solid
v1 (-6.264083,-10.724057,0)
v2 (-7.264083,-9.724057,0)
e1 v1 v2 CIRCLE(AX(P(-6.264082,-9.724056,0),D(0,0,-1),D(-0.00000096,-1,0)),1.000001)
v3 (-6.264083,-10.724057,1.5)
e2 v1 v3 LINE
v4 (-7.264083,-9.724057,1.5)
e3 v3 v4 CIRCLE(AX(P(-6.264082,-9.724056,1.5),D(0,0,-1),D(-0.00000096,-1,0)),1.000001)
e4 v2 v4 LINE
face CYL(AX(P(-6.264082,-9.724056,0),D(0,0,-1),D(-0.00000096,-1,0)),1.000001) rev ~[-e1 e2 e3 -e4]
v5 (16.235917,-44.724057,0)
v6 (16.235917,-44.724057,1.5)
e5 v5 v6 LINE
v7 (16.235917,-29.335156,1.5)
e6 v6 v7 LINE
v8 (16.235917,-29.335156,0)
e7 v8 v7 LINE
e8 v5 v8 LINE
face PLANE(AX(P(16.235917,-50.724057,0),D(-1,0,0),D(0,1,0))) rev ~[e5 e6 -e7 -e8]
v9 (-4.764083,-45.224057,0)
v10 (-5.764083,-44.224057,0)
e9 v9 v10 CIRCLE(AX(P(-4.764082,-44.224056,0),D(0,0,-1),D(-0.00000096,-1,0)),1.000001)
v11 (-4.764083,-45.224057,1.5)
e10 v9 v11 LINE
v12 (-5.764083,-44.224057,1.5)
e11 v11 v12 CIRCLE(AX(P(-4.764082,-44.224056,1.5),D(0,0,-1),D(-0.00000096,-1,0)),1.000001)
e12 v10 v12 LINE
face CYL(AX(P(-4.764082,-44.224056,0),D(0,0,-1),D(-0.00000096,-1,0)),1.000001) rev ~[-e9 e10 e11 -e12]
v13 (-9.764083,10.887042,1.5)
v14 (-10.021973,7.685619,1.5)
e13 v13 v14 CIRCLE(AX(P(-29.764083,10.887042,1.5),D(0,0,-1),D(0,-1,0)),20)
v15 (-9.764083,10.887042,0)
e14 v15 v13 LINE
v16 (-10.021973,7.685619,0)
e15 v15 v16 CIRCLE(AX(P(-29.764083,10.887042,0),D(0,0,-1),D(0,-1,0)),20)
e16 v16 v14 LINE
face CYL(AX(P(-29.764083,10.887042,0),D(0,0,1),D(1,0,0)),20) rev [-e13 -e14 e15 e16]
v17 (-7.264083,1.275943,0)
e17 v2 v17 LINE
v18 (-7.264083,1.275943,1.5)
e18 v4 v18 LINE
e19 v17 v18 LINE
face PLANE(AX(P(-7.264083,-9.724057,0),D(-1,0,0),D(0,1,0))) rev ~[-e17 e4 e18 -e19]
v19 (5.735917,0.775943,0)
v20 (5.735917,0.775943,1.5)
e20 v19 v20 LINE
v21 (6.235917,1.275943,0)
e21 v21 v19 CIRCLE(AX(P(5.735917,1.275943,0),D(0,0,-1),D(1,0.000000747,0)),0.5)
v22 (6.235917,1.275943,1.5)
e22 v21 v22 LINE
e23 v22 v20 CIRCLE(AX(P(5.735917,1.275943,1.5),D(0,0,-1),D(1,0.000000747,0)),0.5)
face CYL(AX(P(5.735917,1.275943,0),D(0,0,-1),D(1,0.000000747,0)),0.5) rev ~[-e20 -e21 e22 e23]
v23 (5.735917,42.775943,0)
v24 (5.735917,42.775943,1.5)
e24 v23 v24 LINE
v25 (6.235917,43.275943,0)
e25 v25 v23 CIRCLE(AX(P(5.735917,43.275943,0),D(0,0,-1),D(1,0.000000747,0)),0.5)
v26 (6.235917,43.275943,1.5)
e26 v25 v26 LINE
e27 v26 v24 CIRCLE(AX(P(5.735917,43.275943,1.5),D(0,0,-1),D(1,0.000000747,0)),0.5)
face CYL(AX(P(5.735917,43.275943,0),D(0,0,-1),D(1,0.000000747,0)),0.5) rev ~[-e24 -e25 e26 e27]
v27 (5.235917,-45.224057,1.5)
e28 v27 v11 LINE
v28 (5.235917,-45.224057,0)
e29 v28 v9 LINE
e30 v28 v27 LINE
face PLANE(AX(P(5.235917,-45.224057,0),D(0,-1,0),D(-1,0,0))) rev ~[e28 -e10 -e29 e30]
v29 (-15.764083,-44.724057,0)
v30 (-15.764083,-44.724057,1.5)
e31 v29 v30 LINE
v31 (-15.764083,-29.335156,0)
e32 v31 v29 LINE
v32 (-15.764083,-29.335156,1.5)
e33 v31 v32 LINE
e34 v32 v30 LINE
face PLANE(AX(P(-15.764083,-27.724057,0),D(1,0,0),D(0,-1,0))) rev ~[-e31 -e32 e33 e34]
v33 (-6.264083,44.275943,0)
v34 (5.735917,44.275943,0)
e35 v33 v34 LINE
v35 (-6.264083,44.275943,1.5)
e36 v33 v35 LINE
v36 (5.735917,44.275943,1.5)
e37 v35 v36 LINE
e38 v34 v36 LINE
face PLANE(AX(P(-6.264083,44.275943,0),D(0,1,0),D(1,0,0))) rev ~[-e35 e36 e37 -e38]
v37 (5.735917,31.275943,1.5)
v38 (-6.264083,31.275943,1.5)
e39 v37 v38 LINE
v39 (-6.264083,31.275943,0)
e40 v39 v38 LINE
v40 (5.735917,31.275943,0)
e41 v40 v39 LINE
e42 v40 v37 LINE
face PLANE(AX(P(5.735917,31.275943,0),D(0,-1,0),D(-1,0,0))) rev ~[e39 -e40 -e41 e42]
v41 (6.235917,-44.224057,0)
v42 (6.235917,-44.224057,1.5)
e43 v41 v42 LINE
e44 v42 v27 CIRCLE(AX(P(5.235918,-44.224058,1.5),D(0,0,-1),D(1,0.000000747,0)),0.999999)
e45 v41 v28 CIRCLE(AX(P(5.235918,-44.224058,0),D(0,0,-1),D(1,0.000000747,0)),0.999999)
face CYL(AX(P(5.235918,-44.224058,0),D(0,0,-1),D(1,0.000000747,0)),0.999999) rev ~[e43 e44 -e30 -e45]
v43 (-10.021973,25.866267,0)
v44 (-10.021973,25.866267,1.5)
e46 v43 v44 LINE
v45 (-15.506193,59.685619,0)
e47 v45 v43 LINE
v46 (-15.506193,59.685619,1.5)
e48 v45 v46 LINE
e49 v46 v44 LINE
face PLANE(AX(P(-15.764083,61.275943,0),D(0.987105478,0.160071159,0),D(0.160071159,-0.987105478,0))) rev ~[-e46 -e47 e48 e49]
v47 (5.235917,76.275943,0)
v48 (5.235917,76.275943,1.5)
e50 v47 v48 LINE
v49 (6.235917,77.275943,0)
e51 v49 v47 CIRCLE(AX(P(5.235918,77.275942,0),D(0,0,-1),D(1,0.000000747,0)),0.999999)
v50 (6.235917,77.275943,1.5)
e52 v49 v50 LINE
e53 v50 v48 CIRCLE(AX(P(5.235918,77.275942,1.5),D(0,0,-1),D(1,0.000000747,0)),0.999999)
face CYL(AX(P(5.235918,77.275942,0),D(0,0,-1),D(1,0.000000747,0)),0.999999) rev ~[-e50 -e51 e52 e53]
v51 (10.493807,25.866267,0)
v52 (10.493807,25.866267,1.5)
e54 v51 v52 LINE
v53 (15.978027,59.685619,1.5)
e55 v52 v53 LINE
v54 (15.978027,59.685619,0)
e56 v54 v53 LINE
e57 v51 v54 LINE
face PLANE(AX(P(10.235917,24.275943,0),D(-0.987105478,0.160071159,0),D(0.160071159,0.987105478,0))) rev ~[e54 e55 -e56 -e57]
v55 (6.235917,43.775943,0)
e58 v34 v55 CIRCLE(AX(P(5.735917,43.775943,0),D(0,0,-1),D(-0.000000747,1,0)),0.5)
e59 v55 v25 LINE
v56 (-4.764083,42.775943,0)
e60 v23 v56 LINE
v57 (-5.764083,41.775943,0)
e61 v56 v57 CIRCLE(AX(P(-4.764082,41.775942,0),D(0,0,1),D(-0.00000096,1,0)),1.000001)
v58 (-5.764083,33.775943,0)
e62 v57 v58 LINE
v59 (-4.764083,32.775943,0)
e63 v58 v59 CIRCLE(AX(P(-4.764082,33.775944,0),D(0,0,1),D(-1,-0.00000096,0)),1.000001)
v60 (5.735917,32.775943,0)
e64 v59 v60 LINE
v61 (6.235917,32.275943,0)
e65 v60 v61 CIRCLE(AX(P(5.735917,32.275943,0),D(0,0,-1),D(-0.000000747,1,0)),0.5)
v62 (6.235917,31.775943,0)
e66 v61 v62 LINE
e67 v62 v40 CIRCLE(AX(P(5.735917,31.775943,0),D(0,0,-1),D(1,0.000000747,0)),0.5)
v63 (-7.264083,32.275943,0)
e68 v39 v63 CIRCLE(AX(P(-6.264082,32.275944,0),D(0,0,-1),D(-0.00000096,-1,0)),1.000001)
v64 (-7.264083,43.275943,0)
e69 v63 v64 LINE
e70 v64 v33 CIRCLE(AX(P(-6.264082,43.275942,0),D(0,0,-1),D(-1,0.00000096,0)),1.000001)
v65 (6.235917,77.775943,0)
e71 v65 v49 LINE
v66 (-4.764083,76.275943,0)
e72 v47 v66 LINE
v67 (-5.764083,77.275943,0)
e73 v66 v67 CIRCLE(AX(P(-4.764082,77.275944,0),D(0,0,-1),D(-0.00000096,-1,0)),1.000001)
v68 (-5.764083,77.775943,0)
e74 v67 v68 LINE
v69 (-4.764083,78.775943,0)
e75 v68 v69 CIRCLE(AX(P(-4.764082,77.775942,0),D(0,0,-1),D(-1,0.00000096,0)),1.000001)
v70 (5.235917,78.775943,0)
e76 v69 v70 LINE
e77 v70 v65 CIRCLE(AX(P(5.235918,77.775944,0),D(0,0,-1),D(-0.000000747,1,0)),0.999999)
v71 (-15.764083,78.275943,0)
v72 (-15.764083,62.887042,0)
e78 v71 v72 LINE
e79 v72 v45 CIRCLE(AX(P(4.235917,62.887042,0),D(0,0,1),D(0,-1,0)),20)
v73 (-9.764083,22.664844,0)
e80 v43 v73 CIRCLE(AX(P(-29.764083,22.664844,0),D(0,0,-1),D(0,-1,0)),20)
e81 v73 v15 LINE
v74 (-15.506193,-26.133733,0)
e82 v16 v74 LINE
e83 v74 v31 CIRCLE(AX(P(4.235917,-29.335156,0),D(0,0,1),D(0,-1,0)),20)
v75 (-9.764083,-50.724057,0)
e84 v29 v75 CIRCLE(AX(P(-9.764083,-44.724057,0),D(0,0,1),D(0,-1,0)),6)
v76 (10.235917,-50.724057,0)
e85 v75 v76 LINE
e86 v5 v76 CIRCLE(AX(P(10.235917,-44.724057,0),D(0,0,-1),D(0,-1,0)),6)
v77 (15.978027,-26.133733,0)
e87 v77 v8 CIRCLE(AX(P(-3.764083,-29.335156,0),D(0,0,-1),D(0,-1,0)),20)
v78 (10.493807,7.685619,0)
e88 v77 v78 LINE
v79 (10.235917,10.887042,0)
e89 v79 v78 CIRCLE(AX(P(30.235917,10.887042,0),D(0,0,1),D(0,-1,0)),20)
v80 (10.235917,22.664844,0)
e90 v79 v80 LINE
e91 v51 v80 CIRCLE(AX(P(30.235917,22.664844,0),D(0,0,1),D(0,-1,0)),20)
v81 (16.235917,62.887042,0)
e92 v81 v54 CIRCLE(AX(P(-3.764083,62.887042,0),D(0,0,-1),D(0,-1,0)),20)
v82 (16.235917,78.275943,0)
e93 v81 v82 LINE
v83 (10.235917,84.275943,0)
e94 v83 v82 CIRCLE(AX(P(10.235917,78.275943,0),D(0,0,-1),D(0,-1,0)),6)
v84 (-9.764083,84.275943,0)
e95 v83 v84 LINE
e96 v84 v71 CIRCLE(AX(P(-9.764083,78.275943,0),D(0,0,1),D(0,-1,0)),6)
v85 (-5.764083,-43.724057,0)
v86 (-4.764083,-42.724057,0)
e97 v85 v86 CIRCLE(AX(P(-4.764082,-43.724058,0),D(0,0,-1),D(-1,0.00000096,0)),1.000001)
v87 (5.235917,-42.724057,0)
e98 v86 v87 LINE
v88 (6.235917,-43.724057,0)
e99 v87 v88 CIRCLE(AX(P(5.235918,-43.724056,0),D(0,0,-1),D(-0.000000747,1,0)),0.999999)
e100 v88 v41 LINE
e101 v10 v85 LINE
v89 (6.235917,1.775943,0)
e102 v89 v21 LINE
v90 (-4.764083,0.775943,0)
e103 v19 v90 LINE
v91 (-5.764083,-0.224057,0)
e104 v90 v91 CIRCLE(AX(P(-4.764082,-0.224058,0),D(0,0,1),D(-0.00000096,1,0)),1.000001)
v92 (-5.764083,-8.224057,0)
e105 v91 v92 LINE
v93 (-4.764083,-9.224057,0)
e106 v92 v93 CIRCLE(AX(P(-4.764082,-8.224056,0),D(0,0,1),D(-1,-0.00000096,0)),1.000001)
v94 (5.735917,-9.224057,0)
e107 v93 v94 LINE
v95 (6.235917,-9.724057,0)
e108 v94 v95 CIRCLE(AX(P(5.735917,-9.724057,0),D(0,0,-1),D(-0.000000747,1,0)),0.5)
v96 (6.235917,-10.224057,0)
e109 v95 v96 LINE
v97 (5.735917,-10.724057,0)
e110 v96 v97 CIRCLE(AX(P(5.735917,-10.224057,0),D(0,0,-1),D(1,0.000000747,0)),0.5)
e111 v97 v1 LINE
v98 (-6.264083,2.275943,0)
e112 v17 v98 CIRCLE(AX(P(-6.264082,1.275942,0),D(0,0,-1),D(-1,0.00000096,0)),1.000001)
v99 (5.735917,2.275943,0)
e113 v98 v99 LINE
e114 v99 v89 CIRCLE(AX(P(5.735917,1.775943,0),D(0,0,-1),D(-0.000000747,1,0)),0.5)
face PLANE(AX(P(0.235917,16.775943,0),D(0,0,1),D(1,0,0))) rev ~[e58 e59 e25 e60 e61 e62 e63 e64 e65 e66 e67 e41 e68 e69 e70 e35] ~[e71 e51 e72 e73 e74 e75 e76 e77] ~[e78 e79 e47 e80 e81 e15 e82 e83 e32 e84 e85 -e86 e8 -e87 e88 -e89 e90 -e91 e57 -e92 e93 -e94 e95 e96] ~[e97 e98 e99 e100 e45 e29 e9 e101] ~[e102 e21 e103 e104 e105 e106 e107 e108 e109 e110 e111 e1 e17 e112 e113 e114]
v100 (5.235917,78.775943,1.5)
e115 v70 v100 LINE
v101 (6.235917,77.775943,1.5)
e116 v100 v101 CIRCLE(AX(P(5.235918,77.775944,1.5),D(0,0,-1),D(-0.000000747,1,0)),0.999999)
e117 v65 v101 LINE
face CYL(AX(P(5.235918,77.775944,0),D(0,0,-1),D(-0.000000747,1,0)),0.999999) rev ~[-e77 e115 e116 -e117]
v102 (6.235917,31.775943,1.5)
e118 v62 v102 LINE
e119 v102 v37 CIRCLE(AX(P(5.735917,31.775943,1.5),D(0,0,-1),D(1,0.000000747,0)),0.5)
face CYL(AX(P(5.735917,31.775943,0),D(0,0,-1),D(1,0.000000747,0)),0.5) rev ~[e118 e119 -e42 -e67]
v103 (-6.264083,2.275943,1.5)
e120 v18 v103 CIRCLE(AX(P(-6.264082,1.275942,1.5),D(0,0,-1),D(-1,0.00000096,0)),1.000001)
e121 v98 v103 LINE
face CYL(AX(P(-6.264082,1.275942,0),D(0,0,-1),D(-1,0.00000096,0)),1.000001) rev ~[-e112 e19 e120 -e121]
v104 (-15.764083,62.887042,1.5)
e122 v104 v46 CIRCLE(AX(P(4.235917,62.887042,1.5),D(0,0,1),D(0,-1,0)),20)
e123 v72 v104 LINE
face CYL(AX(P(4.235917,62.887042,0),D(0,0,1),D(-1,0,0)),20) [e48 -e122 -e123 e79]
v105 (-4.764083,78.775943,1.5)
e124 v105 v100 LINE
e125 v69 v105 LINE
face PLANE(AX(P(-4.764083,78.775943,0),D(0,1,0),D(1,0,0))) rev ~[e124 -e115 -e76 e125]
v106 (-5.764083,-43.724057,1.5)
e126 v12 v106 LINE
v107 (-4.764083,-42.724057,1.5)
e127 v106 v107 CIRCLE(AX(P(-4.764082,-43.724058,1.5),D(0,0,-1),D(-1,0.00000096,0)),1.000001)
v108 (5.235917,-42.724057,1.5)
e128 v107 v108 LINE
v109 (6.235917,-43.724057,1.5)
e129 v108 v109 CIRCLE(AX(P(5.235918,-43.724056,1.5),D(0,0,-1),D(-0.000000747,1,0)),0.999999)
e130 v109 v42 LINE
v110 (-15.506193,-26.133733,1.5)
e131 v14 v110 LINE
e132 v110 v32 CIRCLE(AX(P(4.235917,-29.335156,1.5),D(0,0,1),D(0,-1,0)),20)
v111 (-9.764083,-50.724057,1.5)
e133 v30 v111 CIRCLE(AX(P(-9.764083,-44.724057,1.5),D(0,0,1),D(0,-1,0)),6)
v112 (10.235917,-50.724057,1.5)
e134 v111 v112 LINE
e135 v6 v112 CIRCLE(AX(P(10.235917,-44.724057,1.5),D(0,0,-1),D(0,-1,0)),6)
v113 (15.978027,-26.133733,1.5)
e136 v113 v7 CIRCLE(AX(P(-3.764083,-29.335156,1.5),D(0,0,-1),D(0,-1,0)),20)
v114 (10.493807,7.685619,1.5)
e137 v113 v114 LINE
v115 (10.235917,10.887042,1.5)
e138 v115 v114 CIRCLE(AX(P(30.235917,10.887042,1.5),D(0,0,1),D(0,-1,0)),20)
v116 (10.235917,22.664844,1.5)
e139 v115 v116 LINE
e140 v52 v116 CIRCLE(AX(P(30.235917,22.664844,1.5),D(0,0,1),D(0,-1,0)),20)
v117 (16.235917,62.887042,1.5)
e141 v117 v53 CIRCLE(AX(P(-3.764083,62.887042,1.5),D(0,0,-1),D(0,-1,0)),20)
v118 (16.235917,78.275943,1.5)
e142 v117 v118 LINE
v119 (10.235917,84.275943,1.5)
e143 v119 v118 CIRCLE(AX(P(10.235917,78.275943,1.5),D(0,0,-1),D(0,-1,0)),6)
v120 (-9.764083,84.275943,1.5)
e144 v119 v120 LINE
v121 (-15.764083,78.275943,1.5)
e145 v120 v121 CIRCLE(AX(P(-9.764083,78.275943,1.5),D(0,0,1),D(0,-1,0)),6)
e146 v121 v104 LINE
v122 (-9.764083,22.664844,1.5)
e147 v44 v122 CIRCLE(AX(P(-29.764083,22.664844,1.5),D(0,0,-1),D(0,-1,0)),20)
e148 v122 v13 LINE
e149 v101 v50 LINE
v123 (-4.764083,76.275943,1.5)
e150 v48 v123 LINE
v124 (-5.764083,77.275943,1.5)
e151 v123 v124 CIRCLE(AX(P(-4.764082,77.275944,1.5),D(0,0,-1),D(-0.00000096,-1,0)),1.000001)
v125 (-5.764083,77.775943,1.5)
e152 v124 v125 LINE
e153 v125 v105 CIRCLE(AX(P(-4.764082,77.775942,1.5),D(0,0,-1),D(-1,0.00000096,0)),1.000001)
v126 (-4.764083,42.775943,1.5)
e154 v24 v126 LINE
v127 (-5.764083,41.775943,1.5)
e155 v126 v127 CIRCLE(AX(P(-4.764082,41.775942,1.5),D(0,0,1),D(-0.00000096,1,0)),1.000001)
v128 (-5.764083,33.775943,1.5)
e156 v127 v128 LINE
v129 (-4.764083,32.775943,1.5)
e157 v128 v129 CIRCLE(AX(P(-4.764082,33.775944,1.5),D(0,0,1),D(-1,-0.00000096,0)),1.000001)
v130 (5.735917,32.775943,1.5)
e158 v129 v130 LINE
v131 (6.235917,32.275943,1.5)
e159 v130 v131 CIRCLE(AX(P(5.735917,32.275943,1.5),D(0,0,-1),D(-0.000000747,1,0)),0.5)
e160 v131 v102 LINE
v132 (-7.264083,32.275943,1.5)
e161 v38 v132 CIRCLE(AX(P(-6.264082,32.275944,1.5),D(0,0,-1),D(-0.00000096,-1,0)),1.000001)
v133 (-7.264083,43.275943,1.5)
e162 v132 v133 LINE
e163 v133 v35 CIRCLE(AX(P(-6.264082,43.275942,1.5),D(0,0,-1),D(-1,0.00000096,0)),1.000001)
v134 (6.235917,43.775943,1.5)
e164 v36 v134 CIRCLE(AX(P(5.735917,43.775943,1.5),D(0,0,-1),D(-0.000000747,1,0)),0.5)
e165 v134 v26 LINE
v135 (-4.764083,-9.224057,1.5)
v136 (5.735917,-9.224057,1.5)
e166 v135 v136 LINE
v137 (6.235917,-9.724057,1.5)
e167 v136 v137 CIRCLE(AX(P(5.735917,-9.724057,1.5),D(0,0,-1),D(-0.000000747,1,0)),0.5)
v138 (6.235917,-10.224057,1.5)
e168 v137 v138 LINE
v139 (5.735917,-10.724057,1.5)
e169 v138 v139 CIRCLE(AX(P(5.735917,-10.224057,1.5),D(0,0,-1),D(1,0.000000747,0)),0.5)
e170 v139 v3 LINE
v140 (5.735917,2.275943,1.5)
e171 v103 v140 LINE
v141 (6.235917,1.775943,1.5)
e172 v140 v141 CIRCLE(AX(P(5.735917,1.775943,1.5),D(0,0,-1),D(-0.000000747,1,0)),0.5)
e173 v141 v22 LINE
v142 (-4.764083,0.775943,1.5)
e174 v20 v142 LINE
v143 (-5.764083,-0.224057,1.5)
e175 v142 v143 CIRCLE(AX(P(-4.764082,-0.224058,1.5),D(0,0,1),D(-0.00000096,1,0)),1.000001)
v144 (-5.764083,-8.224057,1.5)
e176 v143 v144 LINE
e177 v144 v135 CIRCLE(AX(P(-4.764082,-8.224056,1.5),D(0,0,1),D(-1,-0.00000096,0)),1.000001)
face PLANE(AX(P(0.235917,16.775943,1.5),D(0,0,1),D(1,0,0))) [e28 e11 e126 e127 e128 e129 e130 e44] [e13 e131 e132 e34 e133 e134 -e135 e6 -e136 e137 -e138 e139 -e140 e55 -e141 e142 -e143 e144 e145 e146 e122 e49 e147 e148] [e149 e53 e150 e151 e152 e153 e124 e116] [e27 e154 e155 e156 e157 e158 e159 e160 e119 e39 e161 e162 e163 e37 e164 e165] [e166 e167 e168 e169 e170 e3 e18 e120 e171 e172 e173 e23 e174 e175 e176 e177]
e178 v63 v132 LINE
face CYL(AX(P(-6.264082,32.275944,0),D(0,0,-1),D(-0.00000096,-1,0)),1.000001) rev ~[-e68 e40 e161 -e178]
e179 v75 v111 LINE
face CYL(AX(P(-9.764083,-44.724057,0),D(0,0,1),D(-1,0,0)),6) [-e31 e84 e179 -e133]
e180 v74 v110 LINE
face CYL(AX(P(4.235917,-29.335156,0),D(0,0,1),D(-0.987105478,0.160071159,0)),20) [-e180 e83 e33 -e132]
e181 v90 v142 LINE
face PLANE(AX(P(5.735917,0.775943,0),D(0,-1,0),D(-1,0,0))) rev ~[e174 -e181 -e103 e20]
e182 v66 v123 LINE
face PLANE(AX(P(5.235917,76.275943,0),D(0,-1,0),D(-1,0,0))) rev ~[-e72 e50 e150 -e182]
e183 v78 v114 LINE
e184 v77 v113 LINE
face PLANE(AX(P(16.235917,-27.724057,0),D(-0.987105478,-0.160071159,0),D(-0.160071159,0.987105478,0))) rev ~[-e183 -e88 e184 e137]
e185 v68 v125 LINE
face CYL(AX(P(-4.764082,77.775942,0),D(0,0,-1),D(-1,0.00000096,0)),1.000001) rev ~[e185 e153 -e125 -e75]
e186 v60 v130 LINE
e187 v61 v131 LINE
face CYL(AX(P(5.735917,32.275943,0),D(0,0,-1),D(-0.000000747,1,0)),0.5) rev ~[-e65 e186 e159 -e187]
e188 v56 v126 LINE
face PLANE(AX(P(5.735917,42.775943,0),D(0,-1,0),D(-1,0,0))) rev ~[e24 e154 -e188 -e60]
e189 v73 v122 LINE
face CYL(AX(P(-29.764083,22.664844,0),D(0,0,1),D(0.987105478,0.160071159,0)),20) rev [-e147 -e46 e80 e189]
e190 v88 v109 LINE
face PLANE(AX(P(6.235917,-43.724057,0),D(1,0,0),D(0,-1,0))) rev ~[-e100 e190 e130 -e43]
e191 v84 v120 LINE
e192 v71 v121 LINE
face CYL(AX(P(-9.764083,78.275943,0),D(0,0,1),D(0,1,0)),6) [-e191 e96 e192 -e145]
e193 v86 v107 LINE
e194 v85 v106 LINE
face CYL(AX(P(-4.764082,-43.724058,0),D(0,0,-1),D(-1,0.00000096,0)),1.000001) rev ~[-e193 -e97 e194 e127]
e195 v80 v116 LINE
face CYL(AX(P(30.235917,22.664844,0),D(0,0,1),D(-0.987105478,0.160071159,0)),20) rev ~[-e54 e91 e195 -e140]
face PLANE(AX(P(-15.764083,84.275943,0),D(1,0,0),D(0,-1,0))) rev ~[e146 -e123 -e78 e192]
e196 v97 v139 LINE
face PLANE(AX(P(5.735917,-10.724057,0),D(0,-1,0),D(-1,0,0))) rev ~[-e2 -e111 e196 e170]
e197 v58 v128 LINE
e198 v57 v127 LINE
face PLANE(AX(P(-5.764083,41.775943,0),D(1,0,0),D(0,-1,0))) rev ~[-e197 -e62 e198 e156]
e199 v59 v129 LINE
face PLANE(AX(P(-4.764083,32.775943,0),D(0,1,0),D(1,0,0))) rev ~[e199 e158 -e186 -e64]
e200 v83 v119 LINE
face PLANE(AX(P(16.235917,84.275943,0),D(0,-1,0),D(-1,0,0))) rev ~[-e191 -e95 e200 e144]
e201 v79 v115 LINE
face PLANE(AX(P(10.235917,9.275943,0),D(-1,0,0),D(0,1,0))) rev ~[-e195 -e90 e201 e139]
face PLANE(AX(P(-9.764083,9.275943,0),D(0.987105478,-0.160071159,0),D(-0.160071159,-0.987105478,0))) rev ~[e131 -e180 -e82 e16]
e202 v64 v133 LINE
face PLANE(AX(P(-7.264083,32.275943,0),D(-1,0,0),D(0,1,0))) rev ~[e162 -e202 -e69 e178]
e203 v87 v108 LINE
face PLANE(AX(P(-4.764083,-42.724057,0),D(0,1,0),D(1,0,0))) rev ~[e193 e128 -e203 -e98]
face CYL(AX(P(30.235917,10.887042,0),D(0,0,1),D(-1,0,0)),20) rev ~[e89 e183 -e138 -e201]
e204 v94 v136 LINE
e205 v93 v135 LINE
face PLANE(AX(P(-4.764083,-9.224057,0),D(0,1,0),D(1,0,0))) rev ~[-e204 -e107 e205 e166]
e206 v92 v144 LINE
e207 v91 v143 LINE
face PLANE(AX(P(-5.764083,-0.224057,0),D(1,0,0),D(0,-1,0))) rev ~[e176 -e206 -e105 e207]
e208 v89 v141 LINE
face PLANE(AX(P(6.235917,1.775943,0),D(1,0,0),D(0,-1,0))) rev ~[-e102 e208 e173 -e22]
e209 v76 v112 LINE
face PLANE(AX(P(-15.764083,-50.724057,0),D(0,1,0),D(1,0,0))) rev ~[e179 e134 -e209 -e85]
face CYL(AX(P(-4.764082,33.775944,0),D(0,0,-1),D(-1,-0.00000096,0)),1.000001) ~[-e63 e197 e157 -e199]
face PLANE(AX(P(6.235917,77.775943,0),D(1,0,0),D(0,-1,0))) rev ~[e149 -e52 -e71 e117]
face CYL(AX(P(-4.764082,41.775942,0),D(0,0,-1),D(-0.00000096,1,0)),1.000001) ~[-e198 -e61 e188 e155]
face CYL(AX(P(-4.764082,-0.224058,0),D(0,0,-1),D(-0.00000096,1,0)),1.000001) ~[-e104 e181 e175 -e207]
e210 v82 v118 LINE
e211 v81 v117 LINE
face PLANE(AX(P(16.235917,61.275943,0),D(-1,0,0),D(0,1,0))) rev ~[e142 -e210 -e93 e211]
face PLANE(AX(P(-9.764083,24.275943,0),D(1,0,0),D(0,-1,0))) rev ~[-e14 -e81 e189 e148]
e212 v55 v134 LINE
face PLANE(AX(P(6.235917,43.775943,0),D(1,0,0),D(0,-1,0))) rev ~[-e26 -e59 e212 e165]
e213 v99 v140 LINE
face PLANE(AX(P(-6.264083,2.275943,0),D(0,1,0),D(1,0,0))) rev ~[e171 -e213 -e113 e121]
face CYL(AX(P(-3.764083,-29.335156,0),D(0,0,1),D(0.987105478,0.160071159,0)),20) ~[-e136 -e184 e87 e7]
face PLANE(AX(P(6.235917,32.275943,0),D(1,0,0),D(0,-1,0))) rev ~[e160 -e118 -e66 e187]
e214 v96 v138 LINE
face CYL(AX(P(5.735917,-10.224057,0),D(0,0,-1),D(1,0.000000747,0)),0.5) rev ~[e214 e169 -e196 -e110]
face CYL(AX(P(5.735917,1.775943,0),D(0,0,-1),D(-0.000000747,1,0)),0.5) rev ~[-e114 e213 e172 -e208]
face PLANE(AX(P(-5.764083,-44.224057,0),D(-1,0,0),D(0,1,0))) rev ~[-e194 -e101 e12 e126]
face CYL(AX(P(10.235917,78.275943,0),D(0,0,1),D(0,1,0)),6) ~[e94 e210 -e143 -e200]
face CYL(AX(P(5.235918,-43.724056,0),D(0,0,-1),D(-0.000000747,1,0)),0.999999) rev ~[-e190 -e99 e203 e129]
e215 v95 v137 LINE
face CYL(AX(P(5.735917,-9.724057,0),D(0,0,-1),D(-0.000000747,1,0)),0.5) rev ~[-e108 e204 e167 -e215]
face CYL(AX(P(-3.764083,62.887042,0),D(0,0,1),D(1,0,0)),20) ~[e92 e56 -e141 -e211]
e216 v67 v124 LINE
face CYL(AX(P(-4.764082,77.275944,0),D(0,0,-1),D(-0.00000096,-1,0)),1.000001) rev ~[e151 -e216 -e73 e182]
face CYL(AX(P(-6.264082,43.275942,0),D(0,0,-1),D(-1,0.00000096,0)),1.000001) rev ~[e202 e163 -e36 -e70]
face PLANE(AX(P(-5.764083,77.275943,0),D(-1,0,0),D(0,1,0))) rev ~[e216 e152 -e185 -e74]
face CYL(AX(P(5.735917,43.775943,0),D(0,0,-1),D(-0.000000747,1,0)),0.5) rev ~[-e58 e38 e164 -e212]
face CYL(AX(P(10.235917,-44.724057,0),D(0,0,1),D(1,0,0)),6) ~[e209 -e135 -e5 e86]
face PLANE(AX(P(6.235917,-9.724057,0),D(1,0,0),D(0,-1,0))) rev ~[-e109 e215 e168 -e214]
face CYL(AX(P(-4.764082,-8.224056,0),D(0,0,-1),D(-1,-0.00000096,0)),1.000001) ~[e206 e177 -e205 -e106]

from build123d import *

# Parameters (mm, degrees)
F1_DEPTH = 1.5
F2_R     = 6
F3_R     = 20


with BuildPart() as f1:
    # F0 (on Top) → F1 (new body)
    with BuildSketch(Plane.XY):
        Polygon((16.235917, 84.275943), (-15.764083, 84.275943), (-15.764083, 61.275943), (-9.764083, 24.275943), (-9.764083, 9.275943), (-15.764083, -27.724057), (-15.764083, -50.724057), (16.235917, -50.724057), (16.235917, -27.724057), (10.235917, 9.275943), (10.235917, 24.275943), (16.235917, 61.275943), align=None)
        with BuildLine():
            ThreePointArc((-5.764083, -43.724057), (-5.471189, -43.01695), (-4.764083, -42.724057))
            Line((-4.764083, -42.724057), (5.235917, -42.724057))
            ThreePointArc((5.235917, -42.724057), (5.943024, -43.01695), (6.235917, -43.724057))
            Line((6.235917, -43.724057), (6.235917, -44.224057))
            ThreePointArc((6.235917, -44.224057), (5.943024, -44.931164), (5.235917, -45.224057))
            Line((5.235917, -45.224057), (-4.764083, -45.224057))
            ThreePointArc((-4.764083, -45.224057), (-5.471189, -44.931164), (-5.764083, -44.224057))
            Line((-5.764083, -44.224057), (-5.764083, -43.724057))
        make_face(mode=Mode.SUBTRACT)
        with BuildLine():
            Line((5.735917, 0.775943), (-4.764083, 0.775943))
            ThreePointArc((-4.764083, 0.775943), (-5.471189, 0.48305), (-5.764083, -0.224057))
            Line((-5.764083, -0.224057), (-5.764083, -8.224057))
            ThreePointArc((-5.764083, -8.224057), (-5.471189, -8.931164), (-4.764083, -9.224057))
            Line((-4.764083, -9.224057), (5.735917, -9.224057))
            ThreePointArc((5.735917, -9.224057), (6.089471, -9.370504), (6.235917, -9.724057))
            Line((6.235917, -9.724057), (6.235917, -10.224057))
            ThreePointArc((6.235917, -10.224057), (6.089471, -10.57761), (5.735917, -10.724057))
            Line((5.735917, -10.724057), (-6.264083, -10.724057))
            ThreePointArc((-6.264083, -10.724057), (-6.971189, -10.431164), (-7.264083, -9.724057))
            Line((-7.264083, -9.724057), (-7.264083, 1.275943))
            ThreePointArc((-7.264083, 1.275943), (-6.971189, 1.98305), (-6.264083, 2.275943))
            Line((-6.264083, 2.275943), (5.735917, 2.275943))
            ThreePointArc((5.735917, 2.275943), (6.089471, 2.129496), (6.235917, 1.775943))
            Line((6.235917, 1.775943), (6.235917, 1.275943))
            ThreePointArc((6.235917, 1.275943), (6.089471, 0.92239), (5.735917, 0.775943))
        make_face(mode=Mode.SUBTRACT)
        with BuildLine():
            Line((5.735917, 42.775943), (-4.764083, 42.775943))
            ThreePointArc((-4.764083, 42.775943), (-5.471189, 42.48305), (-5.764083, 41.775943))
            Line((-5.764083, 41.775943), (-5.764083, 33.775943))
            ThreePointArc((-5.764083, 33.775943), (-5.471189, 33.068836), (-4.764083, 32.775943))
            Line((-4.764083, 32.775943), (5.735917, 32.775943))
            ThreePointArc((5.735917, 32.775943), (6.089471, 32.629496), (6.235917, 32.275943))
            Line((6.235917, 32.275943), (6.235917, 31.775943))
            ThreePointArc((6.235917, 31.775943), (6.089471, 31.42239), (5.735917, 31.275943))
            Line((5.735917, 31.275943), (-6.264083, 31.275943))
            ThreePointArc((-6.264083, 31.275943), (-6.971189, 31.568836), (-7.264083, 32.275943))
            Line((-7.264083, 32.275943), (-7.264083, 43.275943))
            ThreePointArc((-7.264083, 43.275943), (-6.971189, 43.98305), (-6.264083, 44.275943))
            Line((-6.264083, 44.275943), (5.735917, 44.275943))
            ThreePointArc((5.735917, 44.275943), (6.089471, 44.129496), (6.235917, 43.775943))
            Line((6.235917, 43.775943), (6.235917, 43.275943))
            ThreePointArc((6.235917, 43.275943), (6.089471, 42.92239), (5.735917, 42.775943))
        make_face(mode=Mode.SUBTRACT)
        with BuildLine():
            Line((5.235917, 76.275943), (-4.764083, 76.275943))
            ThreePointArc((-4.764083, 76.275943), (-5.471189, 76.568836), (-5.764083, 77.275943))
            Line((-5.764083, 77.275943), (-5.764083, 77.775943))
            ThreePointArc((-5.764083, 77.775943), (-5.471189, 78.48305), (-4.764083, 78.775943))
            Line((-4.764083, 78.775943), (5.235917, 78.775943))
            ThreePointArc((5.235917, 78.775943), (5.943024, 78.48305), (6.235917, 77.775943))
            Line((6.235917, 77.775943), (6.235917, 77.275943))
            ThreePointArc((6.235917, 77.275943), (5.943024, 76.568836), (5.235917, 76.275943))
        make_face(mode=Mode.SUBTRACT)
    extrude(amount=F1_DEPTH)

    # F2
    f2_edges = [f1.edges().sort_by_distance(p)[0] for p in [
        (16.235917, 84.275943, 0.75),
        (-15.764083, 84.275943, 0.75),
        (-15.764083, -50.724057, 0.75),
        (16.235917, -50.724057, 0.75),
    ]]
    fillet(f2_edges, radius=F2_R)

    # F3
    f3_edges = [f1.edges().sort_by_distance(p)[0] for p in [
        (16.235917, 61.275943, 0.75),
        (-15.764083, 61.275943, 0.75),
        (16.235917, -27.724057, 0.75),
        (-15.764083, -27.724057, 0.75),
        (-9.764083, 9.275943, 0.75),
        (10.235917, 9.275943, 0.75),
        (10.235917, 24.275943, 0.75),
        (-9.764083, 24.275943, 0.75),
    ]]
    fillet(f3_edges, radius=F3_R)


solid = f1.part
